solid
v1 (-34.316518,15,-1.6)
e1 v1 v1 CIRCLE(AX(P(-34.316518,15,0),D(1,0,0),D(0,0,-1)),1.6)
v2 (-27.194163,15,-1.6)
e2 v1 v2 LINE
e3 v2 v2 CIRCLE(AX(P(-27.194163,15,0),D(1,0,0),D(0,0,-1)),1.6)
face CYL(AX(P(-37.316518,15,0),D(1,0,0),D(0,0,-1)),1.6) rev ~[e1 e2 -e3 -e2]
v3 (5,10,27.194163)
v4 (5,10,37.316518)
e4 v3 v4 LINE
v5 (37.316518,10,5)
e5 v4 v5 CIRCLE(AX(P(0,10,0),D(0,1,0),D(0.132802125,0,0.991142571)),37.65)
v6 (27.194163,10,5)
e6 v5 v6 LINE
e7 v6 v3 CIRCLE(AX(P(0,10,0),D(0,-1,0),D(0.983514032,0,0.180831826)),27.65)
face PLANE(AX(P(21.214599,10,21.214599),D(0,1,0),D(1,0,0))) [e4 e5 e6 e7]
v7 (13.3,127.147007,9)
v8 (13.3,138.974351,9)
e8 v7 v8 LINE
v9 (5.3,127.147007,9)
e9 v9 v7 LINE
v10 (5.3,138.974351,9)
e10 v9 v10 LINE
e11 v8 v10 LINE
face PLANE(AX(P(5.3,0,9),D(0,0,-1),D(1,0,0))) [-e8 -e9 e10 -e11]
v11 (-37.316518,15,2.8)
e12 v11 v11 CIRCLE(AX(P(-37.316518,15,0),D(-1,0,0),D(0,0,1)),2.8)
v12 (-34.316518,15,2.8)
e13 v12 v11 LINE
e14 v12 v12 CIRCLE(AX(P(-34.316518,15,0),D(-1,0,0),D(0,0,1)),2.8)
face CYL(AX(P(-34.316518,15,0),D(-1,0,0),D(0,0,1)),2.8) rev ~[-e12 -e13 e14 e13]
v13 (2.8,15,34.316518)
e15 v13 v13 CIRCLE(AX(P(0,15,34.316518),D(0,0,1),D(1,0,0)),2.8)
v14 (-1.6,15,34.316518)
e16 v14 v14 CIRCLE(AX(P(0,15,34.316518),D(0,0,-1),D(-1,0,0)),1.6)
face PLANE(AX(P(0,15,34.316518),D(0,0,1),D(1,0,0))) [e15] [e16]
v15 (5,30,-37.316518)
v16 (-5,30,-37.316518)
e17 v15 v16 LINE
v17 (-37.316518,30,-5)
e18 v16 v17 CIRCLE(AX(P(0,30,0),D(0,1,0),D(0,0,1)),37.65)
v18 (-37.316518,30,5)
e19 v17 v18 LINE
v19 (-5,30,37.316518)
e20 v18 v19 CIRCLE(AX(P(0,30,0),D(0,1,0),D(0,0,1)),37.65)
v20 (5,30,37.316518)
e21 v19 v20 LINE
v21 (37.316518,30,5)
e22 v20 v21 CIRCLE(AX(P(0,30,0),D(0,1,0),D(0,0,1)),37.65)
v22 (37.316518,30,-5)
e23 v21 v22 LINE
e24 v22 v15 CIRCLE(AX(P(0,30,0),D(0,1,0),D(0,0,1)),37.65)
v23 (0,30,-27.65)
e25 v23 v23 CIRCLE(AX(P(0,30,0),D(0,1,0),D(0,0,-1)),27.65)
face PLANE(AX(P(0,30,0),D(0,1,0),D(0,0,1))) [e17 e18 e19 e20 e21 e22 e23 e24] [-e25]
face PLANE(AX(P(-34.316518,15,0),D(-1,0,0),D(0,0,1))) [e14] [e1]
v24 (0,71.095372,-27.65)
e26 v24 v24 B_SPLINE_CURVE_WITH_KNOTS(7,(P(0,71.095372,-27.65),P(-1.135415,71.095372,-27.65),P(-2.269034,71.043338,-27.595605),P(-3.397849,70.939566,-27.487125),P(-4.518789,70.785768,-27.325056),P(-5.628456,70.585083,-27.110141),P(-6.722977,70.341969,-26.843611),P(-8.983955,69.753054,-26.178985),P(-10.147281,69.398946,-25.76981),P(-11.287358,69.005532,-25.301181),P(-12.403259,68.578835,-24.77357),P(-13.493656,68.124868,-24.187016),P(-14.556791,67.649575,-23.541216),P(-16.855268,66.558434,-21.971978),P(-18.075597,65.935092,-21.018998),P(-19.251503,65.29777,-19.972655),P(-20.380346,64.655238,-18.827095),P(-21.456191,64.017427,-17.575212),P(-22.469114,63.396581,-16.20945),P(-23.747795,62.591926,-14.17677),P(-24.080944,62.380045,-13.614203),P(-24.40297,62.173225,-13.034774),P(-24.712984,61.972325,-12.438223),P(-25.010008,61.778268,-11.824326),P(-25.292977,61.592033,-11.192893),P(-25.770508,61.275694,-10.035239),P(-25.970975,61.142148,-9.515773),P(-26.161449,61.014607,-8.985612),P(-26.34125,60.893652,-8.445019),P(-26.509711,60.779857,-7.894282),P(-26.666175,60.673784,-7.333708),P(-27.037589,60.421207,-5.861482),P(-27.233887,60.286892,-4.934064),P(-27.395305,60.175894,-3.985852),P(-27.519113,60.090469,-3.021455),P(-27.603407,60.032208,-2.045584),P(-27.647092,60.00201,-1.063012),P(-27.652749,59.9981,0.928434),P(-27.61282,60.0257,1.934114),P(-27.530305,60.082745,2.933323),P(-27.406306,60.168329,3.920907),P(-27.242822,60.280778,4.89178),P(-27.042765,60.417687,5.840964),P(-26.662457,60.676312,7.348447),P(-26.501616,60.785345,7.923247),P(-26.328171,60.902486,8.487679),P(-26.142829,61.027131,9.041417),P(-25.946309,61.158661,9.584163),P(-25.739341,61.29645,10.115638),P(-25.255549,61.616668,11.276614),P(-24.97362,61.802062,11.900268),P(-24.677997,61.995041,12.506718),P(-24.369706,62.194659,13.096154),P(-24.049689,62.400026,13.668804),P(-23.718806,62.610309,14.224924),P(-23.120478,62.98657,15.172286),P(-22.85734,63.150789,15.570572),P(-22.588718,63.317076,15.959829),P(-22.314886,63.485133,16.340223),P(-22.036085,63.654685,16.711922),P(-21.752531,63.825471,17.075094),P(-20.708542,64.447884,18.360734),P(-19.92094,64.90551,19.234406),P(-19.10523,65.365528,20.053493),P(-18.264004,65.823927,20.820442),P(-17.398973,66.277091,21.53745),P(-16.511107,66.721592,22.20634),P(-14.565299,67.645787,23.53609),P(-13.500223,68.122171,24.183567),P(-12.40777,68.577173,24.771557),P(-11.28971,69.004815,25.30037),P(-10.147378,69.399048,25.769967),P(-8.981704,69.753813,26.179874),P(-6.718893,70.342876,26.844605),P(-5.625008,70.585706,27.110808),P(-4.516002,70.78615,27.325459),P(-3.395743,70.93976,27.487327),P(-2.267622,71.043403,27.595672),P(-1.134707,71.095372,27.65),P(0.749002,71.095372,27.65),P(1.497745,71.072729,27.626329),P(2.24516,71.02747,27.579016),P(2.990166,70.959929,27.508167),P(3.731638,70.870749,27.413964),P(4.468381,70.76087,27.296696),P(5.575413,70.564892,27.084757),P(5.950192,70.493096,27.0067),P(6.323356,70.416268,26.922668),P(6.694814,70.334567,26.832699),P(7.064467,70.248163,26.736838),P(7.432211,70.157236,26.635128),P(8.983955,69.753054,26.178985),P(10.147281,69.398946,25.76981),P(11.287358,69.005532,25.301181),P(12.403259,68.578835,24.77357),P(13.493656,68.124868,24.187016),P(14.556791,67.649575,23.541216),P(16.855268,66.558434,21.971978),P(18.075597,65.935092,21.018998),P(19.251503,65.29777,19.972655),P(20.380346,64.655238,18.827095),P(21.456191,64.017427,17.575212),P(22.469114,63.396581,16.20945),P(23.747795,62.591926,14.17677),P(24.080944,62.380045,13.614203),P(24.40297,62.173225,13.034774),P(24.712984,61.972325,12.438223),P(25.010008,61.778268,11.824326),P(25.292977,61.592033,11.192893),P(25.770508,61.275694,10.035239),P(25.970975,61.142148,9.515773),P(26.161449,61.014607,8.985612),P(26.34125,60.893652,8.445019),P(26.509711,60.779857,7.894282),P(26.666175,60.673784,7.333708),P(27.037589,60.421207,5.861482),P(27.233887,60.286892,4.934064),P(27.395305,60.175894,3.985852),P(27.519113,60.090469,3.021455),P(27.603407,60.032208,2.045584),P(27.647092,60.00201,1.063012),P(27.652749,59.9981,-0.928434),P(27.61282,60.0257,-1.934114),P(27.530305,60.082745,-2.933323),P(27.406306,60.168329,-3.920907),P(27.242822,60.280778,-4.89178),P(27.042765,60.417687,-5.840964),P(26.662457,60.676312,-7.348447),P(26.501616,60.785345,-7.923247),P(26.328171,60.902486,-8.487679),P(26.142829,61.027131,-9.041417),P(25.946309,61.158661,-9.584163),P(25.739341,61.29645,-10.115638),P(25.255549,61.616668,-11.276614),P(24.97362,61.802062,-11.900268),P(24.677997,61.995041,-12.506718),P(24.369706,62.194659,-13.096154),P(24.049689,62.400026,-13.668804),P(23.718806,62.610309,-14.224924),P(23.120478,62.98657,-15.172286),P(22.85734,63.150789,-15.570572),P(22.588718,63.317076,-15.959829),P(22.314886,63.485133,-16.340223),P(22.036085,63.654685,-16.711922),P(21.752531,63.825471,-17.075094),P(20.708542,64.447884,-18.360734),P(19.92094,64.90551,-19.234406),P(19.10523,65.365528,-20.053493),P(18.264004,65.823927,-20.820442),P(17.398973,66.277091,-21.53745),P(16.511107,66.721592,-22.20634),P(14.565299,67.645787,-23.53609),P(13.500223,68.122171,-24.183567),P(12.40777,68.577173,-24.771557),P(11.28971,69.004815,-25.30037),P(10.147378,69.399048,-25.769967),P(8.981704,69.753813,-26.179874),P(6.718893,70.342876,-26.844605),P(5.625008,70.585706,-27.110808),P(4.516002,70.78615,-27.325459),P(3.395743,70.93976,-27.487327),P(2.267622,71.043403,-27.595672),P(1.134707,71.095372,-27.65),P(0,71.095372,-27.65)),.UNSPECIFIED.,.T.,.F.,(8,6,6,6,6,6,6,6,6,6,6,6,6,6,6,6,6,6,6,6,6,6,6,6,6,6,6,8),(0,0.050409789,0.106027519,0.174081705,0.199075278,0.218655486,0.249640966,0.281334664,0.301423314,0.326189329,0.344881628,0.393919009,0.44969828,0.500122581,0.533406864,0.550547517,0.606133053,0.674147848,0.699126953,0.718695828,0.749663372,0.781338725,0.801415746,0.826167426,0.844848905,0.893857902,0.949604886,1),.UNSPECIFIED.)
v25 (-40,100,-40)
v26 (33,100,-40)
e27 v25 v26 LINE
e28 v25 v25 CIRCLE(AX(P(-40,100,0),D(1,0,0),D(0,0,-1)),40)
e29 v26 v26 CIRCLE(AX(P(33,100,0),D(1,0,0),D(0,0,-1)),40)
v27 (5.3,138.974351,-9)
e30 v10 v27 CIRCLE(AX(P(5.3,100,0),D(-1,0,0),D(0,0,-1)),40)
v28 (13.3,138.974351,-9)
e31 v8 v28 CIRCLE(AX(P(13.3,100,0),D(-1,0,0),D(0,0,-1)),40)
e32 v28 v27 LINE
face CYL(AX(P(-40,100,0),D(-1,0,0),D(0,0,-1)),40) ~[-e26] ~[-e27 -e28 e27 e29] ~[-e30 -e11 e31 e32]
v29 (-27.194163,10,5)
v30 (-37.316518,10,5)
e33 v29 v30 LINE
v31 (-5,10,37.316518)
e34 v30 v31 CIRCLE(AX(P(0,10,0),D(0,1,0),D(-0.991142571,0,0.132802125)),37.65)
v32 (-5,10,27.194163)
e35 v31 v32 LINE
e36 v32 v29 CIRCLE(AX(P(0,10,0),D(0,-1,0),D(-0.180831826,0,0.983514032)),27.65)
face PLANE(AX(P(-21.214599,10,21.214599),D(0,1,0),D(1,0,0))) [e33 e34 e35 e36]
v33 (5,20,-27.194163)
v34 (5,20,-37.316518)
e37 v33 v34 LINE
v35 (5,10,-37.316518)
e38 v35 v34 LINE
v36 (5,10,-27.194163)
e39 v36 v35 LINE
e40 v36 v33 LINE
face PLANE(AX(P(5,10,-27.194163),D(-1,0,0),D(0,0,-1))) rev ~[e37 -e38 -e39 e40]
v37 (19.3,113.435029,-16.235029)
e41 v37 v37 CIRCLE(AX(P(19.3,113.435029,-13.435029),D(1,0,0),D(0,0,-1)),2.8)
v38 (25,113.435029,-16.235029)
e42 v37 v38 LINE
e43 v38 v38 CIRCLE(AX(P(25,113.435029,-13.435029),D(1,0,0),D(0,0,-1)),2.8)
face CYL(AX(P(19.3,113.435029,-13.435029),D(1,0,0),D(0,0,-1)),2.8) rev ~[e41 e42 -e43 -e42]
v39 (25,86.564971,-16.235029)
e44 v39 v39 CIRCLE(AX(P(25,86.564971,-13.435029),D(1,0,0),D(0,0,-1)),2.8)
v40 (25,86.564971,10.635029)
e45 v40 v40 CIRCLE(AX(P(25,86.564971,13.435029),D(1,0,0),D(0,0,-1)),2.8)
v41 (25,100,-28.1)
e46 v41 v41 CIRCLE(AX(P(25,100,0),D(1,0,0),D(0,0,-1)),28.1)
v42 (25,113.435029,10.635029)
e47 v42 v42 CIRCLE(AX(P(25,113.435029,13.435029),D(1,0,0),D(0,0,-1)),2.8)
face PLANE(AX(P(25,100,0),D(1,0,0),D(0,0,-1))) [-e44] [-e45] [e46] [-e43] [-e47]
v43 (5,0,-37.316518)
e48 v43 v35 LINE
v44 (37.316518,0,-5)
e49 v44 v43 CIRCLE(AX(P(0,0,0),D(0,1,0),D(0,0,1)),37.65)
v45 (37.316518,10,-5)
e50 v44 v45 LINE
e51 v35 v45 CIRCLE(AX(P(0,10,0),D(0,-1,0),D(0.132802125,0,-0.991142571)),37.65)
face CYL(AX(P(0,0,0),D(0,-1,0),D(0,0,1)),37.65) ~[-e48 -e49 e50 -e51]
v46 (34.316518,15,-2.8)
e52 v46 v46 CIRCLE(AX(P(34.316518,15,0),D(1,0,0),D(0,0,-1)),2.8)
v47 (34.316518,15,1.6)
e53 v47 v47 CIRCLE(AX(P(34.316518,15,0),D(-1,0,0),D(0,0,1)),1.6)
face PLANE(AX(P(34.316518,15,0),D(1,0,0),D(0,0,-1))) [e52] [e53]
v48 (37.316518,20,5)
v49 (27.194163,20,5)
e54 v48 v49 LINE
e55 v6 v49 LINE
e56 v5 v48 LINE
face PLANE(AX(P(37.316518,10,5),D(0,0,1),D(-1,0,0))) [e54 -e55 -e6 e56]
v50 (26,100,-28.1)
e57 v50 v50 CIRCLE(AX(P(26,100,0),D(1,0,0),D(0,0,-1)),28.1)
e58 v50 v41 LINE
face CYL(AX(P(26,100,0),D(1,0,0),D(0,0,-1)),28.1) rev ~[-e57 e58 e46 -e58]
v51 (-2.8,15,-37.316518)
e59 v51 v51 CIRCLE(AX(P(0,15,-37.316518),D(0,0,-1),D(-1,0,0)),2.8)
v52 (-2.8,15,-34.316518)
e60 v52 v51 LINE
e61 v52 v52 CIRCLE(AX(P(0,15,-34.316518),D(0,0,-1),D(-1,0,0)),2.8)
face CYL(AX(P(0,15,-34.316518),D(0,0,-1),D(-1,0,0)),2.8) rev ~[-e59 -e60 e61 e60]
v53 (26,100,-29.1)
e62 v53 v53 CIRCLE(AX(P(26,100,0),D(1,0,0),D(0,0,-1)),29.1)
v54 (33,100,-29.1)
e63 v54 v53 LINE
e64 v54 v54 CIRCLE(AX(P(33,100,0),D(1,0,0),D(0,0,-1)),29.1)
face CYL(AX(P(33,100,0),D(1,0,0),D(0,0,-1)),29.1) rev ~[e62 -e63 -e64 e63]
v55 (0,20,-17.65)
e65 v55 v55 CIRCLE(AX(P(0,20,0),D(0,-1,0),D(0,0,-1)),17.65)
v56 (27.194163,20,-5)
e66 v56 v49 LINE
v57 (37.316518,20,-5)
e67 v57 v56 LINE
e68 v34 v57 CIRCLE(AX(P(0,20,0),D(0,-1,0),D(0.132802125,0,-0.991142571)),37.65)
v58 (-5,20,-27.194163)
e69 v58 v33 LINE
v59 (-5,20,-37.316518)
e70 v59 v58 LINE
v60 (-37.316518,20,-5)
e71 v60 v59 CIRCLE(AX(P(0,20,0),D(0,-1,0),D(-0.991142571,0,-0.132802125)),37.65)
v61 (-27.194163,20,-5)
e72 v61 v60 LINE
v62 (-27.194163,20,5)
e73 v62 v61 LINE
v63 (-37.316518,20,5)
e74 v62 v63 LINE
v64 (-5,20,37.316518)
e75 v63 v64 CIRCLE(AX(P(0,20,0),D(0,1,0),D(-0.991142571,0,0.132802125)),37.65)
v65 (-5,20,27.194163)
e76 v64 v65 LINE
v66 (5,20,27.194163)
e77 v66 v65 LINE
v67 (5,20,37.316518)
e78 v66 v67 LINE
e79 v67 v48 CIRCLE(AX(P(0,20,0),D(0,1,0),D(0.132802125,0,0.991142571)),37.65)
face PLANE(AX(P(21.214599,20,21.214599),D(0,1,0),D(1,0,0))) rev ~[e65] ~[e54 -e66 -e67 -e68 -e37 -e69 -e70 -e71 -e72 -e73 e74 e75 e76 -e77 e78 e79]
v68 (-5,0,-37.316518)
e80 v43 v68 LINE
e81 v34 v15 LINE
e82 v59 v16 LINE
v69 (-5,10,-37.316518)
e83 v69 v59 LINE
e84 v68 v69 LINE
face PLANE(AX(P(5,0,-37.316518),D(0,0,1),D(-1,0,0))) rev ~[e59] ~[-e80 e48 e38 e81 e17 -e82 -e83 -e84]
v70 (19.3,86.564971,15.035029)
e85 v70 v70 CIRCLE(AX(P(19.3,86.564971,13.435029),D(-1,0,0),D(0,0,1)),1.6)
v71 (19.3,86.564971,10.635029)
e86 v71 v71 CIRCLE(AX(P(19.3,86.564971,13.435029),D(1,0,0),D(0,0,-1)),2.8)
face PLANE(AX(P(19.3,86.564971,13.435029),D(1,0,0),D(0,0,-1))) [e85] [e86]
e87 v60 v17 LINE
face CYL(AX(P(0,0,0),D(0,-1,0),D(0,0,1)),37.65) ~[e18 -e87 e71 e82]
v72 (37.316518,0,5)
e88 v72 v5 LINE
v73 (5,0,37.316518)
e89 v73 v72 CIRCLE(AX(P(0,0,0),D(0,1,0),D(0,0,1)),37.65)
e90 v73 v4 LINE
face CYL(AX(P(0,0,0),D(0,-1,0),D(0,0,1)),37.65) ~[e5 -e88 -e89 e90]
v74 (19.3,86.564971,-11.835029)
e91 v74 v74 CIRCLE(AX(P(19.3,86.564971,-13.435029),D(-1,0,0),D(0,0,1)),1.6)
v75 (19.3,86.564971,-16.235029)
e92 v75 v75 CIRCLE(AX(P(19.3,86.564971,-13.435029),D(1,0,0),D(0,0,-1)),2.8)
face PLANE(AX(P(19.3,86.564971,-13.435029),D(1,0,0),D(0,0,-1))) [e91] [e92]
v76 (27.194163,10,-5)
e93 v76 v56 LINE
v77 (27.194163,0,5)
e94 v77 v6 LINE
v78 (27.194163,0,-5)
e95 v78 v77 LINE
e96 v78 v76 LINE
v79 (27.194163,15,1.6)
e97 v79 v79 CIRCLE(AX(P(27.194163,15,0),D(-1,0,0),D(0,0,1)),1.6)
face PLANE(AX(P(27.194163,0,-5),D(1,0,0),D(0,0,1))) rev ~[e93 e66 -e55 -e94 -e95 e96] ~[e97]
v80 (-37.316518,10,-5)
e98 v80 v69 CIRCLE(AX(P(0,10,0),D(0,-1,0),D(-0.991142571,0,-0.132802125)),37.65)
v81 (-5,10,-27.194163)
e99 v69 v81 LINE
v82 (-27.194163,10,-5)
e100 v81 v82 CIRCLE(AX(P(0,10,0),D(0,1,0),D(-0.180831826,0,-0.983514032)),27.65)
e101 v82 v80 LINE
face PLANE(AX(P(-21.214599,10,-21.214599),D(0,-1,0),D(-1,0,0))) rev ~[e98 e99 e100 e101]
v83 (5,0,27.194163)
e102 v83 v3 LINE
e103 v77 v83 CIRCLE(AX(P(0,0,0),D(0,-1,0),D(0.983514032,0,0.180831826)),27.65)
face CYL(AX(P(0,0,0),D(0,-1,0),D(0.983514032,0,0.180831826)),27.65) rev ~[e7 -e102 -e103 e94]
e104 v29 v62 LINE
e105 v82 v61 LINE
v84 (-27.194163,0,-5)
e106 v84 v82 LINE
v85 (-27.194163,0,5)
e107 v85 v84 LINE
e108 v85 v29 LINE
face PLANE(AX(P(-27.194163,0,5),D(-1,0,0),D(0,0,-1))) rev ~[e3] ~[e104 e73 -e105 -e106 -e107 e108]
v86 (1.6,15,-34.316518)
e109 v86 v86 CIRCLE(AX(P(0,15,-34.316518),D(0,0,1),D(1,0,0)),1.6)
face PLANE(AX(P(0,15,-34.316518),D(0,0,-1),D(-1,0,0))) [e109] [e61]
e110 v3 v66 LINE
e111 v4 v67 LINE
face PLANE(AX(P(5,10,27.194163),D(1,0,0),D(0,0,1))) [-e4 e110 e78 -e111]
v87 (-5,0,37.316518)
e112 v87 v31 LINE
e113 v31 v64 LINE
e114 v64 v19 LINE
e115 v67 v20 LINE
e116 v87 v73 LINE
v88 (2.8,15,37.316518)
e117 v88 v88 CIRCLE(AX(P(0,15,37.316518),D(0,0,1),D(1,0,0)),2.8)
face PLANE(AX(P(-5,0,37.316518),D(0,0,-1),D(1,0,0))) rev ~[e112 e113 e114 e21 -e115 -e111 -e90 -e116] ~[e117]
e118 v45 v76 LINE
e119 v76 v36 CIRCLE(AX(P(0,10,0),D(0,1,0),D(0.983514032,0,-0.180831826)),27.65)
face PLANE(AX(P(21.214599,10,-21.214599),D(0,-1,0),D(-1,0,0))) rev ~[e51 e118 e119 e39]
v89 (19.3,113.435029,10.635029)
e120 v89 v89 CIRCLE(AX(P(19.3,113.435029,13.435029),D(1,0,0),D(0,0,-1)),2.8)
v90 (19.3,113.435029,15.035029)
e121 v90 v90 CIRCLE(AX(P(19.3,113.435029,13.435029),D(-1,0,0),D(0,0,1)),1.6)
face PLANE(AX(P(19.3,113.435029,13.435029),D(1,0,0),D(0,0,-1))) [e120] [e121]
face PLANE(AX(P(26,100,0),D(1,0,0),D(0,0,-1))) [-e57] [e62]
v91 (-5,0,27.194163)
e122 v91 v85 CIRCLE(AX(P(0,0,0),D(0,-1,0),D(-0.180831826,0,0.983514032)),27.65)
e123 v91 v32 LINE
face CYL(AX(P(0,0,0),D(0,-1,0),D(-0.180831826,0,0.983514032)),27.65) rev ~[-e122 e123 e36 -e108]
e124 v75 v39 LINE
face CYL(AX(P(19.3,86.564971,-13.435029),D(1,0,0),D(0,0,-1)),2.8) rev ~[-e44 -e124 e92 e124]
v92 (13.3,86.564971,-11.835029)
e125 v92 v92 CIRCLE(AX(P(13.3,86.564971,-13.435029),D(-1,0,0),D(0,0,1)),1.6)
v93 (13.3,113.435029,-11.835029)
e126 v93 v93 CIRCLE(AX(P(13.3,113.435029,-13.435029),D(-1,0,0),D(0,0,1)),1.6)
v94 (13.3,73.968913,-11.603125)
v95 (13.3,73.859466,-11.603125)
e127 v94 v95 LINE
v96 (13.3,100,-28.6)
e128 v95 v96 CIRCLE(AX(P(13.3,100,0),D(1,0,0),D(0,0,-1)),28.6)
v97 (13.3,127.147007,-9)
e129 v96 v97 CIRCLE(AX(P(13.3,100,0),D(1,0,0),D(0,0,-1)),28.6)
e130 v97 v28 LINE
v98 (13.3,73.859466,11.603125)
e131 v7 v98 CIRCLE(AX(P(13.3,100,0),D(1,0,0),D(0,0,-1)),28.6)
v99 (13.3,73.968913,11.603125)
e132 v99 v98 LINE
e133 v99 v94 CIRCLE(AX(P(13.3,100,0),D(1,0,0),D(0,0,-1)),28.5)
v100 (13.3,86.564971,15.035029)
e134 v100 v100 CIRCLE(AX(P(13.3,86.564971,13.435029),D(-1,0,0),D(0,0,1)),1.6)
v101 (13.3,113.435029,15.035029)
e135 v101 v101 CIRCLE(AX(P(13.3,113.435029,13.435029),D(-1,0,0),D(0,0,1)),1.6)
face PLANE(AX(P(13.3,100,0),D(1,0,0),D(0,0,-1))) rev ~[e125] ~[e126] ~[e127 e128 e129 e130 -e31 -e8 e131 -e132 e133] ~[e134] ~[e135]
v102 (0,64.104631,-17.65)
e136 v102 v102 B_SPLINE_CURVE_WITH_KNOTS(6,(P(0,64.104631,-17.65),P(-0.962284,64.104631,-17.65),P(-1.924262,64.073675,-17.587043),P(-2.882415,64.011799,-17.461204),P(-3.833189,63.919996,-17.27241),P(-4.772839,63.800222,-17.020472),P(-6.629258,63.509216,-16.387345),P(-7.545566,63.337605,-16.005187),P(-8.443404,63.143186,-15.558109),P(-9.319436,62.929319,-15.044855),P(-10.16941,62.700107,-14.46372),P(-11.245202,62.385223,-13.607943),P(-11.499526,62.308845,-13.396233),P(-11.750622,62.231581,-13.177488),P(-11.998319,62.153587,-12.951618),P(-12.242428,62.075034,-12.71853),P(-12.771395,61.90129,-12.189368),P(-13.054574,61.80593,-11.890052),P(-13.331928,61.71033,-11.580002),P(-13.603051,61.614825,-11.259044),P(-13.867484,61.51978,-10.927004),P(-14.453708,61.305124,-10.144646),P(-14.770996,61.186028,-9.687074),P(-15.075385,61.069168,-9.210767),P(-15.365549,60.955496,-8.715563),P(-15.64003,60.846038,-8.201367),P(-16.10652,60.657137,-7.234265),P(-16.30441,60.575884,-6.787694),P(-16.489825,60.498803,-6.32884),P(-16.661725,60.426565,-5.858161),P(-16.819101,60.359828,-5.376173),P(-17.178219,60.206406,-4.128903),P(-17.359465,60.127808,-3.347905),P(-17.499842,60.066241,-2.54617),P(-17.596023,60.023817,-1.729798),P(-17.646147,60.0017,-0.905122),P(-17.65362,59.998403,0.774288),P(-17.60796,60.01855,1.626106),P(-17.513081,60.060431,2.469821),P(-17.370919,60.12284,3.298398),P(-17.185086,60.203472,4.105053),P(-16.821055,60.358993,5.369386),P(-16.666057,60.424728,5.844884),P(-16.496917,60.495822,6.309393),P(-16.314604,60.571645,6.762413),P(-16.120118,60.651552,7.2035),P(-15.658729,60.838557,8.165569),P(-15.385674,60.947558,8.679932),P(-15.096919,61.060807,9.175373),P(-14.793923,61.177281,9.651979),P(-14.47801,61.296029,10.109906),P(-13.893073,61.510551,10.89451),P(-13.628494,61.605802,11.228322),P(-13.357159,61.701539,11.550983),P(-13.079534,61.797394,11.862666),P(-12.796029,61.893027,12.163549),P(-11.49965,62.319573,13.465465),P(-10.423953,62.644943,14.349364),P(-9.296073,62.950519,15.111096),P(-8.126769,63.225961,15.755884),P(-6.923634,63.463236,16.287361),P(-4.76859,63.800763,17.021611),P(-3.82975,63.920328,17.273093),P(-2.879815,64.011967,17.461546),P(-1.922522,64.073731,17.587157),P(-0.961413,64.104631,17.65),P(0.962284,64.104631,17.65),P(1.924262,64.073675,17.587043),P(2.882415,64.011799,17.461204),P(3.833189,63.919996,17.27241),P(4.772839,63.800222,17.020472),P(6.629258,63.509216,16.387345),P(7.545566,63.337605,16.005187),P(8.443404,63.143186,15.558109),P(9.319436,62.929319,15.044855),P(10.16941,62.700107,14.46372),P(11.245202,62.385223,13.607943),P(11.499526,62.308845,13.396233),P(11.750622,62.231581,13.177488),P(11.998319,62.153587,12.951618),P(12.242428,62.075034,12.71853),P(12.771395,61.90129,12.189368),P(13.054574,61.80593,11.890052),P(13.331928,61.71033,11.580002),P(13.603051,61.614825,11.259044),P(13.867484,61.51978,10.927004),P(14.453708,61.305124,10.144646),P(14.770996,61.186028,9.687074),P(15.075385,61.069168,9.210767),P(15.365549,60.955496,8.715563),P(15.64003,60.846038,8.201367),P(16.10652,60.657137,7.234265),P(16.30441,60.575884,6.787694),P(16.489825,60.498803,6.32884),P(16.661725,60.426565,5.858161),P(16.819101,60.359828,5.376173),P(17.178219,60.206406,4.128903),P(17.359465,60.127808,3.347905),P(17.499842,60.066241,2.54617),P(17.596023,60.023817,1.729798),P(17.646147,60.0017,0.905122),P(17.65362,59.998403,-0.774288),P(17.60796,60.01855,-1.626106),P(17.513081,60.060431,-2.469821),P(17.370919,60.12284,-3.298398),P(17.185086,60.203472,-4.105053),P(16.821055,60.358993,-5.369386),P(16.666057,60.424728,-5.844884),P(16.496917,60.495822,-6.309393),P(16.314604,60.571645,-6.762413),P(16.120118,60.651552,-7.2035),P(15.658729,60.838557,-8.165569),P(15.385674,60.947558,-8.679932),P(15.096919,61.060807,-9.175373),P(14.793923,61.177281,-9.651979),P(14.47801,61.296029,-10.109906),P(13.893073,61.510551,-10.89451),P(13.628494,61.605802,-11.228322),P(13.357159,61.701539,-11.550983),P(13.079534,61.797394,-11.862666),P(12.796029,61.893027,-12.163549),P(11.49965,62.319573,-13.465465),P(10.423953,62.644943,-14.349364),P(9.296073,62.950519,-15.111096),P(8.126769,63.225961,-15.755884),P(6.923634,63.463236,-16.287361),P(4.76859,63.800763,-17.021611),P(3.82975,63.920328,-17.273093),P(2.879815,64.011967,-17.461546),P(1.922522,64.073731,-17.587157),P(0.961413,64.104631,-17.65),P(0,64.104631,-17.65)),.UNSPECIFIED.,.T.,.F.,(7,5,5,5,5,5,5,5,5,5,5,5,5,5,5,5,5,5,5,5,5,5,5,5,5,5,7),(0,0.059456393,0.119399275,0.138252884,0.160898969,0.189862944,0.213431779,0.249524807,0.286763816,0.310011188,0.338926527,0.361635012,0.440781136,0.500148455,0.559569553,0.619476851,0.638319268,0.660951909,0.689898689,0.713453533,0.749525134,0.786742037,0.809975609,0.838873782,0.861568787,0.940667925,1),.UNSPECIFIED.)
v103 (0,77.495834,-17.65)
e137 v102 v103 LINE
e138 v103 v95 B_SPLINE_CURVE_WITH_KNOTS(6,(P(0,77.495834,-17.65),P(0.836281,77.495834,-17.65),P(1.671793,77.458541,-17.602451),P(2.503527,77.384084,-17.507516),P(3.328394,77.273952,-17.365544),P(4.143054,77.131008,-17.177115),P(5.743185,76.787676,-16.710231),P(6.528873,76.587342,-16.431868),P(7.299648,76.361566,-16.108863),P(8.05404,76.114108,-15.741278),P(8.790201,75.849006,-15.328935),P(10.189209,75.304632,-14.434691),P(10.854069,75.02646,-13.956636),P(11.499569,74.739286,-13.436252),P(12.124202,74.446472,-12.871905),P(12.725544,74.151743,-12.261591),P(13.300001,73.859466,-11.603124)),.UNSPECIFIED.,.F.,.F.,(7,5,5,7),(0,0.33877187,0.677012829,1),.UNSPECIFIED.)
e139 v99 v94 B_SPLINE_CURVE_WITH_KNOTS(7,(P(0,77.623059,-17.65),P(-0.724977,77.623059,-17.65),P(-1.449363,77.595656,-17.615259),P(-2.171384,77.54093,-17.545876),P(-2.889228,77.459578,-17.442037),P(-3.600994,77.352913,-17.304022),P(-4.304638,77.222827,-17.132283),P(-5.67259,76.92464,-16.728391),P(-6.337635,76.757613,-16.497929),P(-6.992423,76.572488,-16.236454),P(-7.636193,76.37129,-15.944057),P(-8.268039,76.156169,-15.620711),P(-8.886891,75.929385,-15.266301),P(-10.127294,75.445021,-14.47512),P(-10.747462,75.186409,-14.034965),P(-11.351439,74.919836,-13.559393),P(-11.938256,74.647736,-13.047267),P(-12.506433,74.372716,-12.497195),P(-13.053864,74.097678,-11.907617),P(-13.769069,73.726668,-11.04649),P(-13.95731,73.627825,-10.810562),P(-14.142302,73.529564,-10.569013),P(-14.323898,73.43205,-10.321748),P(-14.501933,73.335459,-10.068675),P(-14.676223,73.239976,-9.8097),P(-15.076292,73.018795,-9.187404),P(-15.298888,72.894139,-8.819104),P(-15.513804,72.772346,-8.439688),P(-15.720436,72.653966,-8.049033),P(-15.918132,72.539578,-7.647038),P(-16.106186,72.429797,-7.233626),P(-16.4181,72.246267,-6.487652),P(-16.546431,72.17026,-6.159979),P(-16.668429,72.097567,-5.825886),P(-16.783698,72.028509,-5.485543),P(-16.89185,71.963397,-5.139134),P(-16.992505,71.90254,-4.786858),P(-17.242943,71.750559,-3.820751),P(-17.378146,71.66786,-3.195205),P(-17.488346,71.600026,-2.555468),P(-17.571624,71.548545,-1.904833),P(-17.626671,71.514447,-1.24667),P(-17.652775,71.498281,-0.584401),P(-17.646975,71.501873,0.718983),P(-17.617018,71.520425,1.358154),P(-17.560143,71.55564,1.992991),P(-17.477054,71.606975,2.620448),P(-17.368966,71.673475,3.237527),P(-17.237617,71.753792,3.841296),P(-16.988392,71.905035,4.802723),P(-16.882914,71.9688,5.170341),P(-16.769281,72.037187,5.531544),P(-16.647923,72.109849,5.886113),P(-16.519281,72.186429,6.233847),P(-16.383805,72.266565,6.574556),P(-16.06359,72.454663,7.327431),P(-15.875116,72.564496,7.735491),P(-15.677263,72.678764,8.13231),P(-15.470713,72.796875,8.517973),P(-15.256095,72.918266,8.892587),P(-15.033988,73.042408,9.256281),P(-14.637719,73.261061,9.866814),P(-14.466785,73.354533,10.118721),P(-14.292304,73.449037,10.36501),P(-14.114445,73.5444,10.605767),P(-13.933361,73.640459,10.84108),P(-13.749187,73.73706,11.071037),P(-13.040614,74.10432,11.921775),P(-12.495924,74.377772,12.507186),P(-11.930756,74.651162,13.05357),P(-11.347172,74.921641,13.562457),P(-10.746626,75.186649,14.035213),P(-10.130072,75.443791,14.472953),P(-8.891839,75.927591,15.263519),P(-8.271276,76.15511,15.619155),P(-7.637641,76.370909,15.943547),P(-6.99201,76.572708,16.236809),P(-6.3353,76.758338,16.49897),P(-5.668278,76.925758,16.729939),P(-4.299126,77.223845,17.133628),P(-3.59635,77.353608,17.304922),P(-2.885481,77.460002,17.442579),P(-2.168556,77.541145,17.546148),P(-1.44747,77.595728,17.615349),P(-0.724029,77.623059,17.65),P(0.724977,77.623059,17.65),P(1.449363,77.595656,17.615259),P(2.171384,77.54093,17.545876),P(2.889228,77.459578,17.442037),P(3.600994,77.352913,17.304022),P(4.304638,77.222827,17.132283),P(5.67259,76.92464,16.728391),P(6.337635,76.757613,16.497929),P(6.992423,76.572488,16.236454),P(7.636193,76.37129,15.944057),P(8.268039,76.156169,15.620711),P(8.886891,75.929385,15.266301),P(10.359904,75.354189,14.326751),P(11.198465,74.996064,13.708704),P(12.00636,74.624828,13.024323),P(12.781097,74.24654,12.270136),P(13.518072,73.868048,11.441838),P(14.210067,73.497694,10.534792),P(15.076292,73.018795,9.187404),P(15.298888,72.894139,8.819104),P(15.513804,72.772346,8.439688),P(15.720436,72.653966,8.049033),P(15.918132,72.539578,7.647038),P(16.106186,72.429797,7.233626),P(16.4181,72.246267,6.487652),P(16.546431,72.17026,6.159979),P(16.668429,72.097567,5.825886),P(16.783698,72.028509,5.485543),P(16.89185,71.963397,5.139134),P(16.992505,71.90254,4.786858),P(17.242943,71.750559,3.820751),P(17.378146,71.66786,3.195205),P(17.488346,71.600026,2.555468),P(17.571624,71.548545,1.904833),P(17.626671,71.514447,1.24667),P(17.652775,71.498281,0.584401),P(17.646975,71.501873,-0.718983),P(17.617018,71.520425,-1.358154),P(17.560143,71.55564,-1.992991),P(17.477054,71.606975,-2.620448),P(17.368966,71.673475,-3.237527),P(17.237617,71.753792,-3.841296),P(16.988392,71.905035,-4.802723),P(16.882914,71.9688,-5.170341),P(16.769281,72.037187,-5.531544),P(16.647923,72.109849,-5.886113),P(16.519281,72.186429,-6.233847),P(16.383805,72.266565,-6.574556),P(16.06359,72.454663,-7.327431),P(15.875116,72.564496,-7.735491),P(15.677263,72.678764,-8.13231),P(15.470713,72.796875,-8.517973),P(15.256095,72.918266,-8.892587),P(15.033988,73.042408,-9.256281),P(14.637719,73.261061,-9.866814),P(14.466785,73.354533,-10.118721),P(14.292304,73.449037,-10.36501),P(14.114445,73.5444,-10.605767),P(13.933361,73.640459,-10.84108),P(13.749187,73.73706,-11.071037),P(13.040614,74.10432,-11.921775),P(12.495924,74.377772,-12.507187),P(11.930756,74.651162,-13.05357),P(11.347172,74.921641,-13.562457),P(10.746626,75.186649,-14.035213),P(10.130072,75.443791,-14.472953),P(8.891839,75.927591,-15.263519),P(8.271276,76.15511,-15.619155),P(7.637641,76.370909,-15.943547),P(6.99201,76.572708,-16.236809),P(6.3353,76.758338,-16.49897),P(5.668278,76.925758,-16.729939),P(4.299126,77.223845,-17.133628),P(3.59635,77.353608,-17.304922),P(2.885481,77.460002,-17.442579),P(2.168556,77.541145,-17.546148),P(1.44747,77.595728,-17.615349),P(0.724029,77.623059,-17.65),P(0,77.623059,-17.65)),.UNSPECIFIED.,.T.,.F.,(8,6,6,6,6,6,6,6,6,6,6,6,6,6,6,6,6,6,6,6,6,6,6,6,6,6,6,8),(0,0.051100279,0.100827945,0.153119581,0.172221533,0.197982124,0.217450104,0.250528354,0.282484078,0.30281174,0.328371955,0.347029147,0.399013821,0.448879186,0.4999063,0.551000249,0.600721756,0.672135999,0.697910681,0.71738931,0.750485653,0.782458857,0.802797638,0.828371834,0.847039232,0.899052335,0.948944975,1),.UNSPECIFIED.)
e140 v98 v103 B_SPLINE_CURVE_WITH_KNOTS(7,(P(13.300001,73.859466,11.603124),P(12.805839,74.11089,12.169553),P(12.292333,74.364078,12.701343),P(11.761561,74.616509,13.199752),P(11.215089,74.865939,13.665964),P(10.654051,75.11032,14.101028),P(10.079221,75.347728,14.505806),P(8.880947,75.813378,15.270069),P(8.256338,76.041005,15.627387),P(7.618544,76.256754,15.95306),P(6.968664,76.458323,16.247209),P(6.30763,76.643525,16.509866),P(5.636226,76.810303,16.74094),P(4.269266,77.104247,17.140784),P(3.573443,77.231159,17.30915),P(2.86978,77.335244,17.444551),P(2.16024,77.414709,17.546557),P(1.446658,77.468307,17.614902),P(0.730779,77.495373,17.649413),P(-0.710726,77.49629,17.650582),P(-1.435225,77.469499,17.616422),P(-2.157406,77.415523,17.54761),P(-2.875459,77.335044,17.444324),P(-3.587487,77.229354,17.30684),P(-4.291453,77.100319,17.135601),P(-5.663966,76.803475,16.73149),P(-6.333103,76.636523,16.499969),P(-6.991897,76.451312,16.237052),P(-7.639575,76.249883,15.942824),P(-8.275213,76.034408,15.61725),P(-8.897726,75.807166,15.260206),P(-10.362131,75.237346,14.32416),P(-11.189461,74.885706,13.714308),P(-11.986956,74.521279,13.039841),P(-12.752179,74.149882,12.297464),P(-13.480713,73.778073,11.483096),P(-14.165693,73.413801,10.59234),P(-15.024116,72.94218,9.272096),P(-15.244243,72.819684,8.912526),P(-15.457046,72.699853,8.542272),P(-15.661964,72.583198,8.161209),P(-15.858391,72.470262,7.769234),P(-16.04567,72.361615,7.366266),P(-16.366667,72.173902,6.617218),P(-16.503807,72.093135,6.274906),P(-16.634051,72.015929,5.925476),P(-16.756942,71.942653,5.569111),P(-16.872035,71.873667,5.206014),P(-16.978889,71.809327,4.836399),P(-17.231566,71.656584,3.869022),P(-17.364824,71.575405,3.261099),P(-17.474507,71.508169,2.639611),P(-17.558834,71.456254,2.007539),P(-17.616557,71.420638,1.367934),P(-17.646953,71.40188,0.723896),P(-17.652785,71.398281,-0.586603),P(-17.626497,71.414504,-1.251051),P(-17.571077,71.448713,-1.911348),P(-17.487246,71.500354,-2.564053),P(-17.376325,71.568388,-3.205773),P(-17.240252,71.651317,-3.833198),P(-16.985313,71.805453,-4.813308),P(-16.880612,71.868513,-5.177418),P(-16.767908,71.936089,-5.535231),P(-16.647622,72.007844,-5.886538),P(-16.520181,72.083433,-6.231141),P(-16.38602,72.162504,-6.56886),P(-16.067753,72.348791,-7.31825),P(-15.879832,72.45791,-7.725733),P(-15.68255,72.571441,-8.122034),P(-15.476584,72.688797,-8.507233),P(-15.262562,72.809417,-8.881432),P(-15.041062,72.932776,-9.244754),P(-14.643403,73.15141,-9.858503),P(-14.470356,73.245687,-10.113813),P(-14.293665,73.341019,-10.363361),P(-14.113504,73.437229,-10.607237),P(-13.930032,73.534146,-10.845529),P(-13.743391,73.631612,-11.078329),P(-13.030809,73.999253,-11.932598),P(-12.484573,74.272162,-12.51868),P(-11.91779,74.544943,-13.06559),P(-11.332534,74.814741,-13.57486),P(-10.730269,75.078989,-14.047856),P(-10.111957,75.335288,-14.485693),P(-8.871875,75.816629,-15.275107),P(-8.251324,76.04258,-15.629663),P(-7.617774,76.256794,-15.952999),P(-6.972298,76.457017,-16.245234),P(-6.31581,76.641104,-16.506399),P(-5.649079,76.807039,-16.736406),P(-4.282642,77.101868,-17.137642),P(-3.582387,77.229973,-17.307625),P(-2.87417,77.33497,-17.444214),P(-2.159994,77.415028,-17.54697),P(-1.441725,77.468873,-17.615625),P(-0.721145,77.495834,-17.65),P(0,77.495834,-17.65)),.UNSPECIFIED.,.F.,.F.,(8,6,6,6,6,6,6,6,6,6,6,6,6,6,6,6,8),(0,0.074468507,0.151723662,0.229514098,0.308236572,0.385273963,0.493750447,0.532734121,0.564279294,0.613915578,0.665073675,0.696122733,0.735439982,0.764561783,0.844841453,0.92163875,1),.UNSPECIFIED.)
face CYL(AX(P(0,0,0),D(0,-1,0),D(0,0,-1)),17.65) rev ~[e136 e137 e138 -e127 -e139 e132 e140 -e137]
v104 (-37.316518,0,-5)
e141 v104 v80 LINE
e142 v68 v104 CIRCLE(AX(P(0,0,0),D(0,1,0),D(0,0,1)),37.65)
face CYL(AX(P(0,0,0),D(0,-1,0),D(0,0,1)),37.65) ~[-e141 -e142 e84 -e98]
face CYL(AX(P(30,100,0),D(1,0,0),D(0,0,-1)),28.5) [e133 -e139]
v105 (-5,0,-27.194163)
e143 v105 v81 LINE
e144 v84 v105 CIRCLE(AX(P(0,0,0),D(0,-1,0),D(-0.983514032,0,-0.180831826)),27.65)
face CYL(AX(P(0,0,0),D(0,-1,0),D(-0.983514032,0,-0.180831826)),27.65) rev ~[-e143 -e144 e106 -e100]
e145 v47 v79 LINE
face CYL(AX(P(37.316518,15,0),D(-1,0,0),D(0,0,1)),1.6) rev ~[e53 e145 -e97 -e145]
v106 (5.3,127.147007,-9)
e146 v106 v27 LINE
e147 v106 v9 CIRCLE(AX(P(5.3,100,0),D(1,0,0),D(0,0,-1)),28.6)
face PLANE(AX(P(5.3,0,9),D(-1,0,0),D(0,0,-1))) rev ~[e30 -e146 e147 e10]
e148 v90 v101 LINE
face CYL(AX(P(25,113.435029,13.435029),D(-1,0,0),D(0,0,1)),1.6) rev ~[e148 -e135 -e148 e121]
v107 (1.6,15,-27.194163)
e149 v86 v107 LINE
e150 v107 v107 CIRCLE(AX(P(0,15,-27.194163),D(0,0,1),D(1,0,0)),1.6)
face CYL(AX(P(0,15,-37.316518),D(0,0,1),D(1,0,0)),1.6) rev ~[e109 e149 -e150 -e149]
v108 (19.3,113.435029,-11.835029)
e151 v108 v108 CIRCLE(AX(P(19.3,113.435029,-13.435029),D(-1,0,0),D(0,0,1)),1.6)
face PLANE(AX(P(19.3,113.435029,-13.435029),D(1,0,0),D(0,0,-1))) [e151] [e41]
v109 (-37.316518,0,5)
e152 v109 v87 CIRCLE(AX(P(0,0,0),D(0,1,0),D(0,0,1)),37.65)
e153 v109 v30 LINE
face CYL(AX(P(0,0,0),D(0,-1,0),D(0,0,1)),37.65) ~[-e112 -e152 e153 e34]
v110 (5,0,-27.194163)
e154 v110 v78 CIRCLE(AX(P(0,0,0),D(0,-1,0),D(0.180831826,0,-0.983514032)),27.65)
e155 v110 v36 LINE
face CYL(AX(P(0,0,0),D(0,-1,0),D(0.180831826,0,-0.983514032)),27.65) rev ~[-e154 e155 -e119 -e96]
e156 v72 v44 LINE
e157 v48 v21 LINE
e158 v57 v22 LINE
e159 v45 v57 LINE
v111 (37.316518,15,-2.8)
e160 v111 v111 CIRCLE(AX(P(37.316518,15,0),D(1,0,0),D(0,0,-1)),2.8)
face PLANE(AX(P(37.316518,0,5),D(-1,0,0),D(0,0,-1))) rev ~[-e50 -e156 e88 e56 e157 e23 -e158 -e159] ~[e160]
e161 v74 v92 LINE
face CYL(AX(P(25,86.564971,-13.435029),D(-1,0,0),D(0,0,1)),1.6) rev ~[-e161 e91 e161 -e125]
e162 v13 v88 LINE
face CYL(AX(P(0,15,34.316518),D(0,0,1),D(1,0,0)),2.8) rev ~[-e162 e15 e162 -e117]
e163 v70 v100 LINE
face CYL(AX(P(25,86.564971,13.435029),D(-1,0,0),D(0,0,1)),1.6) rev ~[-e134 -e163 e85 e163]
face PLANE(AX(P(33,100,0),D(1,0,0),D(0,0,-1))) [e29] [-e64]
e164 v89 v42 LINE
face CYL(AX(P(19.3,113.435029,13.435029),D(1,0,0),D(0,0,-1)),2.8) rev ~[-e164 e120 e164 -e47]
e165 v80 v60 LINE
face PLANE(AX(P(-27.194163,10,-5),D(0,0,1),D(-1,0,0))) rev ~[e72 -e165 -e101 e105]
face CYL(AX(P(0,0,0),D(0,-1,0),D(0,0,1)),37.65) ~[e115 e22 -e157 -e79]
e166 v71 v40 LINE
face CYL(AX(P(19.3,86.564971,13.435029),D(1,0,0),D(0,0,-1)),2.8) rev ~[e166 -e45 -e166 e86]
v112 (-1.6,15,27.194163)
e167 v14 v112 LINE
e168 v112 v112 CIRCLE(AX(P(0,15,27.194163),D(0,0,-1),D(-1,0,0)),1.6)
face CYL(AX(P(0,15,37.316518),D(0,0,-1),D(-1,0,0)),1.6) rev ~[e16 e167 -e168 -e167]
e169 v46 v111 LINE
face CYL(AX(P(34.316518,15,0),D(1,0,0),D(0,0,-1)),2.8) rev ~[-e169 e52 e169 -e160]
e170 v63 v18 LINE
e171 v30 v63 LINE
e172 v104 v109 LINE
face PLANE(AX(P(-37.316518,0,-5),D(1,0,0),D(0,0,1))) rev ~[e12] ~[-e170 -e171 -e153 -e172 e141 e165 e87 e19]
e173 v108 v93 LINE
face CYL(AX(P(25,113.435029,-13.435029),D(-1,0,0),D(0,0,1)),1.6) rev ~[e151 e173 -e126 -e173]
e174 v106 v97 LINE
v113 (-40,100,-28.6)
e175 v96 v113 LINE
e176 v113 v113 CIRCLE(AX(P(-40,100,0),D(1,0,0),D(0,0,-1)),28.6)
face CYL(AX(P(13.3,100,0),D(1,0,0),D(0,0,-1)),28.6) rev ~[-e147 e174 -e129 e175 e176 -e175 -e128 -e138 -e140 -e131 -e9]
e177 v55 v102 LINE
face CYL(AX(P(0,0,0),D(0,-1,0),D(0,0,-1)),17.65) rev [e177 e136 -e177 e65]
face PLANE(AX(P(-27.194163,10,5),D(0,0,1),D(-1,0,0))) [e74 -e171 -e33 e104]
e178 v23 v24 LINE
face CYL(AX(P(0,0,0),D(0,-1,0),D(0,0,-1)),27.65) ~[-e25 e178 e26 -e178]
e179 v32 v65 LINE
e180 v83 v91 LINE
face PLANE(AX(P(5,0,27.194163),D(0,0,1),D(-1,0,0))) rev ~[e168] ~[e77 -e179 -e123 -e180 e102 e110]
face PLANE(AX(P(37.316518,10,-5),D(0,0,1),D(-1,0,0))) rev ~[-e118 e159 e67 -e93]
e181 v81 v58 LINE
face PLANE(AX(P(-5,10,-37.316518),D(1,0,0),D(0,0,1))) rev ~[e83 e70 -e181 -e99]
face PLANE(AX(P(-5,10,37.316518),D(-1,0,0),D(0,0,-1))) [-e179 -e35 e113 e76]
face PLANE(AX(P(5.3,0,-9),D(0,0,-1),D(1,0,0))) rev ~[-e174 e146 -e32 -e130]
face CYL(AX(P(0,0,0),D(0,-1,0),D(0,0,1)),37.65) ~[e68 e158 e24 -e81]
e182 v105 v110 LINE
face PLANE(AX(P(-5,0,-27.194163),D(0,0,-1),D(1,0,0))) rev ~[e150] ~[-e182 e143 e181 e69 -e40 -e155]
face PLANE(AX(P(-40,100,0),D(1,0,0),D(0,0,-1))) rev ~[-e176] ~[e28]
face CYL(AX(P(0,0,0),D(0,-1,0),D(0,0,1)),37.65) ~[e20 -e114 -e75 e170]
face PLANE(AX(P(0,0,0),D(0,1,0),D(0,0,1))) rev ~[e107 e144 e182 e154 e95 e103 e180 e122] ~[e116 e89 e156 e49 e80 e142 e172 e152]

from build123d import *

# Parameters (mm, degrees)
SKETCH_1_R                      = 27.65
SKETCH_1_R_2                    = 17.65
EXTRUDE_1_DEPTH                 = 100
SKETCH_9_R                      = 37.65
SKETCH_9_R_2                    = 27.65
EXTRUDE_6_DEPTH                 = 30
EXTRUDE_8_DEPTH                 = 40
EXTRUDE_8_DEPTH_BACK            = 40
SKETCH_16_R                     = 40
SKETCH_16_R_2                   = 28.5
CUT_EXTRUDE_5_DEPTH             = 151.996688851
CUT_EXTRUDE_5_DEPTH_BACK        = 151.996688851
SKETCH_17_R                     = 28.5
CUT_EXTRUDE_6_REACH             = 152.997
SKETCH_19_R                     = 17.65
CUT_EXTRUDE_6_DIRECTION_2_DEPTH = 151.996688851
EXTRUDE_START                   = 30
SKETCH_20_R                     = 28.5
EXTRUDE_9_DEPTH                 = 16.7
CUT_EXTRUDE_7_REACH             = 152.997
SKETCH_21_W                     = 8
SKETCH_21_H                     = 18
EXTRUDE_START_2                 = 40
SKETCH_24_R                     = 28.5
SKETCH_24_R_2                   = 28
EXTRUDE_10_DEPTH                = 10
CUT_EXTRUDE_START               = -7
SKETCH_25_R                     = 40
CUT_EXTRUDE_8_DEPTH             = 7
CUT_EXTRUDE_START_2             = 10
CUT_EXTRUDE_9_DEPTH             = 10
CUT_EXTRUDE_10_DEPTH            = 20
CUT_EXTRUDE_START_3             = 33
SKETCH_28_R                     = 29.1
CUT_EXTRUDE_11_DEPTH            = 7
CUT_EXTRUDE_START_4             = 13.3
SKETCH_29_R                     = 28.6
CUT_EXTRUDE_12_DEPTH            = 165.296688851
CUT_EXTRUDE_13_DEPTH            = 30
SKETCH_31_R                     = 28.1
CUT_EXTRUDE_14_DEPTH            = 1
HOLE_WIZARD_M3_1_D              = 3.2
HOLE_WIZARD_M3_1_DEPTH          = 10.122354814
HOLE_WIZARD_M3_1_CBORE_D        = 5.6
HOLE_WIZARD_M3_1_CBORE_DEPTH    = 3
PATTERN_CIRCULAR_1_COUNT        = 4
HOLE_WIZARD_M3_2_D              = 3.2
HOLE_WIZARD_M3_2_CBORE_D        = 5.6
HOLE_WIZARD_M3_2_CBORE_DEPTH    = 5.7


with BuildPart() as part:
    # 草图1 → 凸台-拉伸1 (new body)
    with BuildSketch(Plane(origin=(0, 0, 0), x_dir=(1, 0, 0), z_dir=(0, 1, 0))):
        with Locations(Location((0, 0, 0), (0, 0, 90))):
            Circle(SKETCH_1_R)
        with Locations(Location((0, 0, 0), (0, 0, 90))):
            Circle(SKETCH_1_R_2, mode=Mode.SUBTRACT)
    extrude(amount=EXTRUDE_1_DEPTH)

    # 草图9 → 凸台-拉伸6 (add)
    with BuildSketch(Plane(origin=(0, 0, 0), x_dir=(1, 0, 0), z_dir=(0, 1, 0))):
        with Locations(Location((0, 0, 0), (0, 0, 270))):
            Circle(SKETCH_9_R)
        with Locations(Location((0, 0, 0), (0, 0, 90))):
            Circle(SKETCH_9_R_2, mode=Mode.SUBTRACT)
    extrude(amount=EXTRUDE_6_DEPTH)

    # 草图16 → 凸台-拉伸8 (add, two sides: drawn at the far end of the back side and taken through both)
    with BuildSketch(Plane(origin=(0, 0, 0), x_dir=(0, 0, -1), z_dir=(1, 0, 0)).offset(-EXTRUDE_8_DEPTH_BACK)):
        with Locations((0, 100)):
            Circle(SKETCH_16_R)
        with Locations((0, 100)):
            Circle(SKETCH_16_R_2, mode=Mode.SUBTRACT)
    extrude(amount=EXTRUDE_8_DEPTH + EXTRUDE_8_DEPTH_BACK)

    # 草图17 → 切除-拉伸5 (cut, two sides: drawn at the far end of the back side and taken through both)
    with BuildSketch(Plane(origin=(0, 0, 0), x_dir=(0, 0, -1), z_dir=(1, 0, 0)).offset(-CUT_EXTRUDE_5_DEPTH_BACK)):
        with Locations((0, 100)):
            Circle(SKETCH_17_R)
    extrude(amount=CUT_EXTRUDE_5_DEPTH + CUT_EXTRUDE_5_DEPTH_BACK, mode=Mode.SUBTRACT)

    # 草图19 → 切除-拉伸6 (cut, up to next)
    with BuildSketch(Plane.XZ, mode=Mode.PRIVATE) as cut_extrude_6_sk1:
        with Locations(Location((0, 0, 0), (0, 0, 270))):
            Circle(SKETCH_19_R)
    cut_extrude_6_tool1 = extrude(cut_extrude_6_sk1.sketch, amount=-CUT_EXTRUDE_6_REACH, mode=Mode.PRIVATE) & part.part
    add(cut_extrude_6_tool1.solids().sort_by_distance((0, 0, 0))[0], mode=Mode.SUBTRACT)

    # 草图19 → 切除-拉伸6 direction 2 (cut)
    with BuildSketch(Plane.XZ):
        with Locations(Location((0, 0, 0), (0, 0, 270))):
            Circle(SKETCH_19_R)
    extrude(amount=CUT_EXTRUDE_6_DIRECTION_2_DEPTH, mode=Mode.SUBTRACT)

    # 草图20 → 凸台-拉伸9 (add)
    with BuildSketch(Plane(origin=(0, 0, 0), x_dir=(0, 0, -1), z_dir=(1, 0, 0)).offset(EXTRUDE_START)):
        with Locations((0, 100)):
            Circle(SKETCH_20_R)
    extrude(amount=-EXTRUDE_9_DEPTH)

    # 草图21 → 切除-拉伸7 (cut, up to next)
    with BuildSketch(Plane(origin=(0, 0, 0), x_dir=(1, 0, 0), z_dir=(0, 1, 0)), mode=Mode.PRIVATE) as cut_extrude_7_sk1:
        with Locations((9.3, 0)):
            Rectangle(SKETCH_21_W, SKETCH_21_H)
    cut_extrude_7_tool1 = extrude(cut_extrude_7_sk1.sketch, amount=CUT_EXTRUDE_7_REACH, mode=Mode.PRIVATE) & part.part
    add(cut_extrude_7_tool1.solids().sort_by_distance((9.3, 0, 0))[0], mode=Mode.SUBTRACT)

    # 草图24 → 凸台-拉伸10 (add)
    with BuildSketch(Plane(origin=(0, 0, 0), x_dir=(0, 0, -1), z_dir=(1, 0, 0)).offset(EXTRUDE_START_2)):
        with Locations((0, 100)):
            Circle(SKETCH_24_R)
        with Locations((0, 100)):
            Circle(SKETCH_24_R_2, mode=Mode.SUBTRACT)
    extrude(amount=-EXTRUDE_10_DEPTH)

    # 草图25 → 切除-拉伸8 (cut)
    with BuildSketch(Plane(origin=(40, 0, 0), x_dir=(0, 0, -1), z_dir=(1, 0, 0)).offset(CUT_EXTRUDE_START)):
        with Locations((0, 100)):
            Circle(SKETCH_25_R)
    extrude(amount=CUT_EXTRUDE_8_DEPTH, mode=Mode.SUBTRACT)

    # 草图26 → 切除-拉伸9 (cut)
    with BuildSketch(Plane(origin=(0, 0, 0), x_dir=(1, 0, 0), z_dir=(0, 1, 0)).offset(CUT_EXTRUDE_START_2)):
        with BuildLine():
            Line((-27.194162977, 5), (-37.31651779, 5))
            ThreePointArc((-37.31651779, 5), (-26.622570312, 26.622570312), (-5, 37.31651779))
            Line((-5, 37.31651779), (-5, 27.194162977))
            ThreePointArc((-5, 27.194162977), (-19.5515025, 19.5515025), (-27.194162977, 5))
        make_face()
        with BuildLine():
            Line((5, 27.194162977), (5, 37.31651779))
            ThreePointArc((5, 37.31651779), (26.622570312, 26.622570312), (37.31651779, 5))
            Line((37.31651779, 5), (27.194162977, 5))
            ThreePointArc((27.194162977, 5), (19.5515025, 19.5515025), (5, 27.194162977))
        make_face()
        with BuildLine():
            Line((-27.194162977, -5), (-37.31651779, -5))
            ThreePointArc((-37.31651779, -5), (-26.622570312, -26.622570312), (-5, -37.31651779))
            Line((-5, -37.31651779), (-5, -27.194162977))
            ThreePointArc((-5, -27.194162977), (-19.5515025, -19.5515025), (-27.194162977, -5))
        make_face()
        with BuildLine():
            Line((5, -27.194162977), (5, -37.31651779))
            ThreePointArc((5, -37.31651779), (26.622570312, -26.622570312), (37.31651779, -5))
            Line((37.31651779, -5), (27.194162977, -5))
            ThreePointArc((27.194162977, -5), (19.5515025, -19.5515025), (5, -27.194162977))
        make_face()
    extrude(amount=CUT_EXTRUDE_9_DEPTH, mode=Mode.SUBTRACT)

    # 草图27 → 切除-拉伸10 (cut)
    with BuildSketch(Plane(origin=(0, 0, 0), x_dir=(1, 0, 0), z_dir=(0, 1, 0))):
        with BuildLine():
            Line((-5, 27.194162977), (5, 27.194162977))
            ThreePointArc((5, 27.194162977), (19.5515025, 19.5515025), (27.194162977, 5))
            Line((27.194162977, 5), (27.194162977, -5))
            ThreePointArc((27.194162977, -5), (19.5515025, -19.5515025), (5, -27.194162977))
            Line((5, -27.194162977), (-5, -27.194162977))
            ThreePointArc((-5, -27.194162977), (-19.5515025, -19.5515025), (-27.194162977, -5))
            Line((-27.194162977, -5), (-27.194162977, 5))
            ThreePointArc((-27.194162977, 5), (-19.5515025, 19.5515025), (-5, 27.194162977))
        make_face()
    extrude(amount=CUT_EXTRUDE_10_DEPTH, mode=Mode.SUBTRACT)

    # 草图28 → 切除-拉伸11 (cut)
    with BuildSketch(Plane(origin=(0, 0, 0), x_dir=(0, 0, -1), z_dir=(1, 0, 0)).offset(CUT_EXTRUDE_START_3)):
        with Locations((0, 100)):
            Circle(SKETCH_28_R)
    extrude(amount=-CUT_EXTRUDE_11_DEPTH, mode=Mode.SUBTRACT)

    # 草图29 → 切除-拉伸12 (cut, through all)
    with BuildSketch(Plane(origin=(0, 0, 0), x_dir=(0, 0, -1), z_dir=(1, 0, 0)).offset(CUT_EXTRUDE_START_4)):
        with Locations((0, 100)):
            Circle(SKETCH_29_R)
    extrude(amount=-CUT_EXTRUDE_12_DEPTH, mode=Mode.SUBTRACT)

    # 草图30 → 切除-拉伸13 (cut)
    with BuildSketch(Plane(origin=(0, 0, 0), x_dir=(1, 0, 0), z_dir=(0, 1, 0))):
        with BuildLine():
            Line((5, 37.31651779), (-5, 37.31651779))
            ThreePointArc((-5, 37.31651779), (0, 37.65), (5, 37.31651779))
        make_face()
        with BuildLine():
            Line((-37.31651779, 5), (-37.31651779, -5))
            ThreePointArc((-37.31651779, -5), (-37.65, 0), (-37.31651779, 5))
        make_face()
        with BuildLine():
            Line((-5, -37.31651779), (5, -37.31651779))
            ThreePointArc((5, -37.31651779), (0, -37.65), (-5, -37.31651779))
        make_face()
        with BuildLine():
            Line((37.31651779, -5), (37.31651779, 5))
            ThreePointArc((37.31651779, 5), (37.65, 0), (37.31651779, -5))
        make_face()
    extrude(amount=CUT_EXTRUDE_13_DEPTH, mode=Mode.SUBTRACT)

    # 草图31 → 切除-拉伸14 (cut)
    with BuildSketch(Plane(origin=(26, 0, 0), x_dir=(0, 0, -1), z_dir=(1, 0, 0))):
        with Locations((0, 100)):
            Circle(SKETCH_31_R)
    extrude(amount=-CUT_EXTRUDE_14_DEPTH, mode=Mode.SUBTRACT)

    # M3 六角头螺栓的柱形沉头孔1
    with Locations(Plane(origin=(37.31651779, 0, 0), x_dir=(0, 0, -1), z_dir=(1, 0, 0))):
        with Locations((0, 15)):
            hole_wizard_m3_1 = CounterBoreHole(HOLE_WIZARD_M3_1_D / 2, HOLE_WIZARD_M3_1_CBORE_D / 2, HOLE_WIZARD_M3_1_CBORE_DEPTH, depth=HOLE_WIZARD_M3_1_DEPTH)

    # 阵列(圆周)1: M3 六角头螺栓的柱形沉头孔1 ×4 about axis
    pattern_circular_1_axis = Axis((0, 0, 0), (0, 1, 0))
    for i in range(1, PATTERN_CIRCULAR_1_COUNT):
        add(hole_wizard_m3_1.rotate(pattern_circular_1_axis, i * 360 / PATTERN_CIRCULAR_1_COUNT), mode=Mode.SUBTRACT)

    # M3 六角头螺栓的柱形沉头孔2 (through all)
    with Locations(Plane(origin=(25, 0, 0), x_dir=(0, 0, -1), z_dir=(1, 0, 0))):
        with Locations((-13.435028843, 86.564971157), (-13.435028843, 113.435028843), (13.435028843, 113.435028843), (13.435028843, 86.564971157)):
            CounterBoreHole(HOLE_WIZARD_M3_2_D / 2, HOLE_WIZARD_M3_2_CBORE_D / 2, HOLE_WIZARD_M3_2_CBORE_DEPTH)


solid = part.part
